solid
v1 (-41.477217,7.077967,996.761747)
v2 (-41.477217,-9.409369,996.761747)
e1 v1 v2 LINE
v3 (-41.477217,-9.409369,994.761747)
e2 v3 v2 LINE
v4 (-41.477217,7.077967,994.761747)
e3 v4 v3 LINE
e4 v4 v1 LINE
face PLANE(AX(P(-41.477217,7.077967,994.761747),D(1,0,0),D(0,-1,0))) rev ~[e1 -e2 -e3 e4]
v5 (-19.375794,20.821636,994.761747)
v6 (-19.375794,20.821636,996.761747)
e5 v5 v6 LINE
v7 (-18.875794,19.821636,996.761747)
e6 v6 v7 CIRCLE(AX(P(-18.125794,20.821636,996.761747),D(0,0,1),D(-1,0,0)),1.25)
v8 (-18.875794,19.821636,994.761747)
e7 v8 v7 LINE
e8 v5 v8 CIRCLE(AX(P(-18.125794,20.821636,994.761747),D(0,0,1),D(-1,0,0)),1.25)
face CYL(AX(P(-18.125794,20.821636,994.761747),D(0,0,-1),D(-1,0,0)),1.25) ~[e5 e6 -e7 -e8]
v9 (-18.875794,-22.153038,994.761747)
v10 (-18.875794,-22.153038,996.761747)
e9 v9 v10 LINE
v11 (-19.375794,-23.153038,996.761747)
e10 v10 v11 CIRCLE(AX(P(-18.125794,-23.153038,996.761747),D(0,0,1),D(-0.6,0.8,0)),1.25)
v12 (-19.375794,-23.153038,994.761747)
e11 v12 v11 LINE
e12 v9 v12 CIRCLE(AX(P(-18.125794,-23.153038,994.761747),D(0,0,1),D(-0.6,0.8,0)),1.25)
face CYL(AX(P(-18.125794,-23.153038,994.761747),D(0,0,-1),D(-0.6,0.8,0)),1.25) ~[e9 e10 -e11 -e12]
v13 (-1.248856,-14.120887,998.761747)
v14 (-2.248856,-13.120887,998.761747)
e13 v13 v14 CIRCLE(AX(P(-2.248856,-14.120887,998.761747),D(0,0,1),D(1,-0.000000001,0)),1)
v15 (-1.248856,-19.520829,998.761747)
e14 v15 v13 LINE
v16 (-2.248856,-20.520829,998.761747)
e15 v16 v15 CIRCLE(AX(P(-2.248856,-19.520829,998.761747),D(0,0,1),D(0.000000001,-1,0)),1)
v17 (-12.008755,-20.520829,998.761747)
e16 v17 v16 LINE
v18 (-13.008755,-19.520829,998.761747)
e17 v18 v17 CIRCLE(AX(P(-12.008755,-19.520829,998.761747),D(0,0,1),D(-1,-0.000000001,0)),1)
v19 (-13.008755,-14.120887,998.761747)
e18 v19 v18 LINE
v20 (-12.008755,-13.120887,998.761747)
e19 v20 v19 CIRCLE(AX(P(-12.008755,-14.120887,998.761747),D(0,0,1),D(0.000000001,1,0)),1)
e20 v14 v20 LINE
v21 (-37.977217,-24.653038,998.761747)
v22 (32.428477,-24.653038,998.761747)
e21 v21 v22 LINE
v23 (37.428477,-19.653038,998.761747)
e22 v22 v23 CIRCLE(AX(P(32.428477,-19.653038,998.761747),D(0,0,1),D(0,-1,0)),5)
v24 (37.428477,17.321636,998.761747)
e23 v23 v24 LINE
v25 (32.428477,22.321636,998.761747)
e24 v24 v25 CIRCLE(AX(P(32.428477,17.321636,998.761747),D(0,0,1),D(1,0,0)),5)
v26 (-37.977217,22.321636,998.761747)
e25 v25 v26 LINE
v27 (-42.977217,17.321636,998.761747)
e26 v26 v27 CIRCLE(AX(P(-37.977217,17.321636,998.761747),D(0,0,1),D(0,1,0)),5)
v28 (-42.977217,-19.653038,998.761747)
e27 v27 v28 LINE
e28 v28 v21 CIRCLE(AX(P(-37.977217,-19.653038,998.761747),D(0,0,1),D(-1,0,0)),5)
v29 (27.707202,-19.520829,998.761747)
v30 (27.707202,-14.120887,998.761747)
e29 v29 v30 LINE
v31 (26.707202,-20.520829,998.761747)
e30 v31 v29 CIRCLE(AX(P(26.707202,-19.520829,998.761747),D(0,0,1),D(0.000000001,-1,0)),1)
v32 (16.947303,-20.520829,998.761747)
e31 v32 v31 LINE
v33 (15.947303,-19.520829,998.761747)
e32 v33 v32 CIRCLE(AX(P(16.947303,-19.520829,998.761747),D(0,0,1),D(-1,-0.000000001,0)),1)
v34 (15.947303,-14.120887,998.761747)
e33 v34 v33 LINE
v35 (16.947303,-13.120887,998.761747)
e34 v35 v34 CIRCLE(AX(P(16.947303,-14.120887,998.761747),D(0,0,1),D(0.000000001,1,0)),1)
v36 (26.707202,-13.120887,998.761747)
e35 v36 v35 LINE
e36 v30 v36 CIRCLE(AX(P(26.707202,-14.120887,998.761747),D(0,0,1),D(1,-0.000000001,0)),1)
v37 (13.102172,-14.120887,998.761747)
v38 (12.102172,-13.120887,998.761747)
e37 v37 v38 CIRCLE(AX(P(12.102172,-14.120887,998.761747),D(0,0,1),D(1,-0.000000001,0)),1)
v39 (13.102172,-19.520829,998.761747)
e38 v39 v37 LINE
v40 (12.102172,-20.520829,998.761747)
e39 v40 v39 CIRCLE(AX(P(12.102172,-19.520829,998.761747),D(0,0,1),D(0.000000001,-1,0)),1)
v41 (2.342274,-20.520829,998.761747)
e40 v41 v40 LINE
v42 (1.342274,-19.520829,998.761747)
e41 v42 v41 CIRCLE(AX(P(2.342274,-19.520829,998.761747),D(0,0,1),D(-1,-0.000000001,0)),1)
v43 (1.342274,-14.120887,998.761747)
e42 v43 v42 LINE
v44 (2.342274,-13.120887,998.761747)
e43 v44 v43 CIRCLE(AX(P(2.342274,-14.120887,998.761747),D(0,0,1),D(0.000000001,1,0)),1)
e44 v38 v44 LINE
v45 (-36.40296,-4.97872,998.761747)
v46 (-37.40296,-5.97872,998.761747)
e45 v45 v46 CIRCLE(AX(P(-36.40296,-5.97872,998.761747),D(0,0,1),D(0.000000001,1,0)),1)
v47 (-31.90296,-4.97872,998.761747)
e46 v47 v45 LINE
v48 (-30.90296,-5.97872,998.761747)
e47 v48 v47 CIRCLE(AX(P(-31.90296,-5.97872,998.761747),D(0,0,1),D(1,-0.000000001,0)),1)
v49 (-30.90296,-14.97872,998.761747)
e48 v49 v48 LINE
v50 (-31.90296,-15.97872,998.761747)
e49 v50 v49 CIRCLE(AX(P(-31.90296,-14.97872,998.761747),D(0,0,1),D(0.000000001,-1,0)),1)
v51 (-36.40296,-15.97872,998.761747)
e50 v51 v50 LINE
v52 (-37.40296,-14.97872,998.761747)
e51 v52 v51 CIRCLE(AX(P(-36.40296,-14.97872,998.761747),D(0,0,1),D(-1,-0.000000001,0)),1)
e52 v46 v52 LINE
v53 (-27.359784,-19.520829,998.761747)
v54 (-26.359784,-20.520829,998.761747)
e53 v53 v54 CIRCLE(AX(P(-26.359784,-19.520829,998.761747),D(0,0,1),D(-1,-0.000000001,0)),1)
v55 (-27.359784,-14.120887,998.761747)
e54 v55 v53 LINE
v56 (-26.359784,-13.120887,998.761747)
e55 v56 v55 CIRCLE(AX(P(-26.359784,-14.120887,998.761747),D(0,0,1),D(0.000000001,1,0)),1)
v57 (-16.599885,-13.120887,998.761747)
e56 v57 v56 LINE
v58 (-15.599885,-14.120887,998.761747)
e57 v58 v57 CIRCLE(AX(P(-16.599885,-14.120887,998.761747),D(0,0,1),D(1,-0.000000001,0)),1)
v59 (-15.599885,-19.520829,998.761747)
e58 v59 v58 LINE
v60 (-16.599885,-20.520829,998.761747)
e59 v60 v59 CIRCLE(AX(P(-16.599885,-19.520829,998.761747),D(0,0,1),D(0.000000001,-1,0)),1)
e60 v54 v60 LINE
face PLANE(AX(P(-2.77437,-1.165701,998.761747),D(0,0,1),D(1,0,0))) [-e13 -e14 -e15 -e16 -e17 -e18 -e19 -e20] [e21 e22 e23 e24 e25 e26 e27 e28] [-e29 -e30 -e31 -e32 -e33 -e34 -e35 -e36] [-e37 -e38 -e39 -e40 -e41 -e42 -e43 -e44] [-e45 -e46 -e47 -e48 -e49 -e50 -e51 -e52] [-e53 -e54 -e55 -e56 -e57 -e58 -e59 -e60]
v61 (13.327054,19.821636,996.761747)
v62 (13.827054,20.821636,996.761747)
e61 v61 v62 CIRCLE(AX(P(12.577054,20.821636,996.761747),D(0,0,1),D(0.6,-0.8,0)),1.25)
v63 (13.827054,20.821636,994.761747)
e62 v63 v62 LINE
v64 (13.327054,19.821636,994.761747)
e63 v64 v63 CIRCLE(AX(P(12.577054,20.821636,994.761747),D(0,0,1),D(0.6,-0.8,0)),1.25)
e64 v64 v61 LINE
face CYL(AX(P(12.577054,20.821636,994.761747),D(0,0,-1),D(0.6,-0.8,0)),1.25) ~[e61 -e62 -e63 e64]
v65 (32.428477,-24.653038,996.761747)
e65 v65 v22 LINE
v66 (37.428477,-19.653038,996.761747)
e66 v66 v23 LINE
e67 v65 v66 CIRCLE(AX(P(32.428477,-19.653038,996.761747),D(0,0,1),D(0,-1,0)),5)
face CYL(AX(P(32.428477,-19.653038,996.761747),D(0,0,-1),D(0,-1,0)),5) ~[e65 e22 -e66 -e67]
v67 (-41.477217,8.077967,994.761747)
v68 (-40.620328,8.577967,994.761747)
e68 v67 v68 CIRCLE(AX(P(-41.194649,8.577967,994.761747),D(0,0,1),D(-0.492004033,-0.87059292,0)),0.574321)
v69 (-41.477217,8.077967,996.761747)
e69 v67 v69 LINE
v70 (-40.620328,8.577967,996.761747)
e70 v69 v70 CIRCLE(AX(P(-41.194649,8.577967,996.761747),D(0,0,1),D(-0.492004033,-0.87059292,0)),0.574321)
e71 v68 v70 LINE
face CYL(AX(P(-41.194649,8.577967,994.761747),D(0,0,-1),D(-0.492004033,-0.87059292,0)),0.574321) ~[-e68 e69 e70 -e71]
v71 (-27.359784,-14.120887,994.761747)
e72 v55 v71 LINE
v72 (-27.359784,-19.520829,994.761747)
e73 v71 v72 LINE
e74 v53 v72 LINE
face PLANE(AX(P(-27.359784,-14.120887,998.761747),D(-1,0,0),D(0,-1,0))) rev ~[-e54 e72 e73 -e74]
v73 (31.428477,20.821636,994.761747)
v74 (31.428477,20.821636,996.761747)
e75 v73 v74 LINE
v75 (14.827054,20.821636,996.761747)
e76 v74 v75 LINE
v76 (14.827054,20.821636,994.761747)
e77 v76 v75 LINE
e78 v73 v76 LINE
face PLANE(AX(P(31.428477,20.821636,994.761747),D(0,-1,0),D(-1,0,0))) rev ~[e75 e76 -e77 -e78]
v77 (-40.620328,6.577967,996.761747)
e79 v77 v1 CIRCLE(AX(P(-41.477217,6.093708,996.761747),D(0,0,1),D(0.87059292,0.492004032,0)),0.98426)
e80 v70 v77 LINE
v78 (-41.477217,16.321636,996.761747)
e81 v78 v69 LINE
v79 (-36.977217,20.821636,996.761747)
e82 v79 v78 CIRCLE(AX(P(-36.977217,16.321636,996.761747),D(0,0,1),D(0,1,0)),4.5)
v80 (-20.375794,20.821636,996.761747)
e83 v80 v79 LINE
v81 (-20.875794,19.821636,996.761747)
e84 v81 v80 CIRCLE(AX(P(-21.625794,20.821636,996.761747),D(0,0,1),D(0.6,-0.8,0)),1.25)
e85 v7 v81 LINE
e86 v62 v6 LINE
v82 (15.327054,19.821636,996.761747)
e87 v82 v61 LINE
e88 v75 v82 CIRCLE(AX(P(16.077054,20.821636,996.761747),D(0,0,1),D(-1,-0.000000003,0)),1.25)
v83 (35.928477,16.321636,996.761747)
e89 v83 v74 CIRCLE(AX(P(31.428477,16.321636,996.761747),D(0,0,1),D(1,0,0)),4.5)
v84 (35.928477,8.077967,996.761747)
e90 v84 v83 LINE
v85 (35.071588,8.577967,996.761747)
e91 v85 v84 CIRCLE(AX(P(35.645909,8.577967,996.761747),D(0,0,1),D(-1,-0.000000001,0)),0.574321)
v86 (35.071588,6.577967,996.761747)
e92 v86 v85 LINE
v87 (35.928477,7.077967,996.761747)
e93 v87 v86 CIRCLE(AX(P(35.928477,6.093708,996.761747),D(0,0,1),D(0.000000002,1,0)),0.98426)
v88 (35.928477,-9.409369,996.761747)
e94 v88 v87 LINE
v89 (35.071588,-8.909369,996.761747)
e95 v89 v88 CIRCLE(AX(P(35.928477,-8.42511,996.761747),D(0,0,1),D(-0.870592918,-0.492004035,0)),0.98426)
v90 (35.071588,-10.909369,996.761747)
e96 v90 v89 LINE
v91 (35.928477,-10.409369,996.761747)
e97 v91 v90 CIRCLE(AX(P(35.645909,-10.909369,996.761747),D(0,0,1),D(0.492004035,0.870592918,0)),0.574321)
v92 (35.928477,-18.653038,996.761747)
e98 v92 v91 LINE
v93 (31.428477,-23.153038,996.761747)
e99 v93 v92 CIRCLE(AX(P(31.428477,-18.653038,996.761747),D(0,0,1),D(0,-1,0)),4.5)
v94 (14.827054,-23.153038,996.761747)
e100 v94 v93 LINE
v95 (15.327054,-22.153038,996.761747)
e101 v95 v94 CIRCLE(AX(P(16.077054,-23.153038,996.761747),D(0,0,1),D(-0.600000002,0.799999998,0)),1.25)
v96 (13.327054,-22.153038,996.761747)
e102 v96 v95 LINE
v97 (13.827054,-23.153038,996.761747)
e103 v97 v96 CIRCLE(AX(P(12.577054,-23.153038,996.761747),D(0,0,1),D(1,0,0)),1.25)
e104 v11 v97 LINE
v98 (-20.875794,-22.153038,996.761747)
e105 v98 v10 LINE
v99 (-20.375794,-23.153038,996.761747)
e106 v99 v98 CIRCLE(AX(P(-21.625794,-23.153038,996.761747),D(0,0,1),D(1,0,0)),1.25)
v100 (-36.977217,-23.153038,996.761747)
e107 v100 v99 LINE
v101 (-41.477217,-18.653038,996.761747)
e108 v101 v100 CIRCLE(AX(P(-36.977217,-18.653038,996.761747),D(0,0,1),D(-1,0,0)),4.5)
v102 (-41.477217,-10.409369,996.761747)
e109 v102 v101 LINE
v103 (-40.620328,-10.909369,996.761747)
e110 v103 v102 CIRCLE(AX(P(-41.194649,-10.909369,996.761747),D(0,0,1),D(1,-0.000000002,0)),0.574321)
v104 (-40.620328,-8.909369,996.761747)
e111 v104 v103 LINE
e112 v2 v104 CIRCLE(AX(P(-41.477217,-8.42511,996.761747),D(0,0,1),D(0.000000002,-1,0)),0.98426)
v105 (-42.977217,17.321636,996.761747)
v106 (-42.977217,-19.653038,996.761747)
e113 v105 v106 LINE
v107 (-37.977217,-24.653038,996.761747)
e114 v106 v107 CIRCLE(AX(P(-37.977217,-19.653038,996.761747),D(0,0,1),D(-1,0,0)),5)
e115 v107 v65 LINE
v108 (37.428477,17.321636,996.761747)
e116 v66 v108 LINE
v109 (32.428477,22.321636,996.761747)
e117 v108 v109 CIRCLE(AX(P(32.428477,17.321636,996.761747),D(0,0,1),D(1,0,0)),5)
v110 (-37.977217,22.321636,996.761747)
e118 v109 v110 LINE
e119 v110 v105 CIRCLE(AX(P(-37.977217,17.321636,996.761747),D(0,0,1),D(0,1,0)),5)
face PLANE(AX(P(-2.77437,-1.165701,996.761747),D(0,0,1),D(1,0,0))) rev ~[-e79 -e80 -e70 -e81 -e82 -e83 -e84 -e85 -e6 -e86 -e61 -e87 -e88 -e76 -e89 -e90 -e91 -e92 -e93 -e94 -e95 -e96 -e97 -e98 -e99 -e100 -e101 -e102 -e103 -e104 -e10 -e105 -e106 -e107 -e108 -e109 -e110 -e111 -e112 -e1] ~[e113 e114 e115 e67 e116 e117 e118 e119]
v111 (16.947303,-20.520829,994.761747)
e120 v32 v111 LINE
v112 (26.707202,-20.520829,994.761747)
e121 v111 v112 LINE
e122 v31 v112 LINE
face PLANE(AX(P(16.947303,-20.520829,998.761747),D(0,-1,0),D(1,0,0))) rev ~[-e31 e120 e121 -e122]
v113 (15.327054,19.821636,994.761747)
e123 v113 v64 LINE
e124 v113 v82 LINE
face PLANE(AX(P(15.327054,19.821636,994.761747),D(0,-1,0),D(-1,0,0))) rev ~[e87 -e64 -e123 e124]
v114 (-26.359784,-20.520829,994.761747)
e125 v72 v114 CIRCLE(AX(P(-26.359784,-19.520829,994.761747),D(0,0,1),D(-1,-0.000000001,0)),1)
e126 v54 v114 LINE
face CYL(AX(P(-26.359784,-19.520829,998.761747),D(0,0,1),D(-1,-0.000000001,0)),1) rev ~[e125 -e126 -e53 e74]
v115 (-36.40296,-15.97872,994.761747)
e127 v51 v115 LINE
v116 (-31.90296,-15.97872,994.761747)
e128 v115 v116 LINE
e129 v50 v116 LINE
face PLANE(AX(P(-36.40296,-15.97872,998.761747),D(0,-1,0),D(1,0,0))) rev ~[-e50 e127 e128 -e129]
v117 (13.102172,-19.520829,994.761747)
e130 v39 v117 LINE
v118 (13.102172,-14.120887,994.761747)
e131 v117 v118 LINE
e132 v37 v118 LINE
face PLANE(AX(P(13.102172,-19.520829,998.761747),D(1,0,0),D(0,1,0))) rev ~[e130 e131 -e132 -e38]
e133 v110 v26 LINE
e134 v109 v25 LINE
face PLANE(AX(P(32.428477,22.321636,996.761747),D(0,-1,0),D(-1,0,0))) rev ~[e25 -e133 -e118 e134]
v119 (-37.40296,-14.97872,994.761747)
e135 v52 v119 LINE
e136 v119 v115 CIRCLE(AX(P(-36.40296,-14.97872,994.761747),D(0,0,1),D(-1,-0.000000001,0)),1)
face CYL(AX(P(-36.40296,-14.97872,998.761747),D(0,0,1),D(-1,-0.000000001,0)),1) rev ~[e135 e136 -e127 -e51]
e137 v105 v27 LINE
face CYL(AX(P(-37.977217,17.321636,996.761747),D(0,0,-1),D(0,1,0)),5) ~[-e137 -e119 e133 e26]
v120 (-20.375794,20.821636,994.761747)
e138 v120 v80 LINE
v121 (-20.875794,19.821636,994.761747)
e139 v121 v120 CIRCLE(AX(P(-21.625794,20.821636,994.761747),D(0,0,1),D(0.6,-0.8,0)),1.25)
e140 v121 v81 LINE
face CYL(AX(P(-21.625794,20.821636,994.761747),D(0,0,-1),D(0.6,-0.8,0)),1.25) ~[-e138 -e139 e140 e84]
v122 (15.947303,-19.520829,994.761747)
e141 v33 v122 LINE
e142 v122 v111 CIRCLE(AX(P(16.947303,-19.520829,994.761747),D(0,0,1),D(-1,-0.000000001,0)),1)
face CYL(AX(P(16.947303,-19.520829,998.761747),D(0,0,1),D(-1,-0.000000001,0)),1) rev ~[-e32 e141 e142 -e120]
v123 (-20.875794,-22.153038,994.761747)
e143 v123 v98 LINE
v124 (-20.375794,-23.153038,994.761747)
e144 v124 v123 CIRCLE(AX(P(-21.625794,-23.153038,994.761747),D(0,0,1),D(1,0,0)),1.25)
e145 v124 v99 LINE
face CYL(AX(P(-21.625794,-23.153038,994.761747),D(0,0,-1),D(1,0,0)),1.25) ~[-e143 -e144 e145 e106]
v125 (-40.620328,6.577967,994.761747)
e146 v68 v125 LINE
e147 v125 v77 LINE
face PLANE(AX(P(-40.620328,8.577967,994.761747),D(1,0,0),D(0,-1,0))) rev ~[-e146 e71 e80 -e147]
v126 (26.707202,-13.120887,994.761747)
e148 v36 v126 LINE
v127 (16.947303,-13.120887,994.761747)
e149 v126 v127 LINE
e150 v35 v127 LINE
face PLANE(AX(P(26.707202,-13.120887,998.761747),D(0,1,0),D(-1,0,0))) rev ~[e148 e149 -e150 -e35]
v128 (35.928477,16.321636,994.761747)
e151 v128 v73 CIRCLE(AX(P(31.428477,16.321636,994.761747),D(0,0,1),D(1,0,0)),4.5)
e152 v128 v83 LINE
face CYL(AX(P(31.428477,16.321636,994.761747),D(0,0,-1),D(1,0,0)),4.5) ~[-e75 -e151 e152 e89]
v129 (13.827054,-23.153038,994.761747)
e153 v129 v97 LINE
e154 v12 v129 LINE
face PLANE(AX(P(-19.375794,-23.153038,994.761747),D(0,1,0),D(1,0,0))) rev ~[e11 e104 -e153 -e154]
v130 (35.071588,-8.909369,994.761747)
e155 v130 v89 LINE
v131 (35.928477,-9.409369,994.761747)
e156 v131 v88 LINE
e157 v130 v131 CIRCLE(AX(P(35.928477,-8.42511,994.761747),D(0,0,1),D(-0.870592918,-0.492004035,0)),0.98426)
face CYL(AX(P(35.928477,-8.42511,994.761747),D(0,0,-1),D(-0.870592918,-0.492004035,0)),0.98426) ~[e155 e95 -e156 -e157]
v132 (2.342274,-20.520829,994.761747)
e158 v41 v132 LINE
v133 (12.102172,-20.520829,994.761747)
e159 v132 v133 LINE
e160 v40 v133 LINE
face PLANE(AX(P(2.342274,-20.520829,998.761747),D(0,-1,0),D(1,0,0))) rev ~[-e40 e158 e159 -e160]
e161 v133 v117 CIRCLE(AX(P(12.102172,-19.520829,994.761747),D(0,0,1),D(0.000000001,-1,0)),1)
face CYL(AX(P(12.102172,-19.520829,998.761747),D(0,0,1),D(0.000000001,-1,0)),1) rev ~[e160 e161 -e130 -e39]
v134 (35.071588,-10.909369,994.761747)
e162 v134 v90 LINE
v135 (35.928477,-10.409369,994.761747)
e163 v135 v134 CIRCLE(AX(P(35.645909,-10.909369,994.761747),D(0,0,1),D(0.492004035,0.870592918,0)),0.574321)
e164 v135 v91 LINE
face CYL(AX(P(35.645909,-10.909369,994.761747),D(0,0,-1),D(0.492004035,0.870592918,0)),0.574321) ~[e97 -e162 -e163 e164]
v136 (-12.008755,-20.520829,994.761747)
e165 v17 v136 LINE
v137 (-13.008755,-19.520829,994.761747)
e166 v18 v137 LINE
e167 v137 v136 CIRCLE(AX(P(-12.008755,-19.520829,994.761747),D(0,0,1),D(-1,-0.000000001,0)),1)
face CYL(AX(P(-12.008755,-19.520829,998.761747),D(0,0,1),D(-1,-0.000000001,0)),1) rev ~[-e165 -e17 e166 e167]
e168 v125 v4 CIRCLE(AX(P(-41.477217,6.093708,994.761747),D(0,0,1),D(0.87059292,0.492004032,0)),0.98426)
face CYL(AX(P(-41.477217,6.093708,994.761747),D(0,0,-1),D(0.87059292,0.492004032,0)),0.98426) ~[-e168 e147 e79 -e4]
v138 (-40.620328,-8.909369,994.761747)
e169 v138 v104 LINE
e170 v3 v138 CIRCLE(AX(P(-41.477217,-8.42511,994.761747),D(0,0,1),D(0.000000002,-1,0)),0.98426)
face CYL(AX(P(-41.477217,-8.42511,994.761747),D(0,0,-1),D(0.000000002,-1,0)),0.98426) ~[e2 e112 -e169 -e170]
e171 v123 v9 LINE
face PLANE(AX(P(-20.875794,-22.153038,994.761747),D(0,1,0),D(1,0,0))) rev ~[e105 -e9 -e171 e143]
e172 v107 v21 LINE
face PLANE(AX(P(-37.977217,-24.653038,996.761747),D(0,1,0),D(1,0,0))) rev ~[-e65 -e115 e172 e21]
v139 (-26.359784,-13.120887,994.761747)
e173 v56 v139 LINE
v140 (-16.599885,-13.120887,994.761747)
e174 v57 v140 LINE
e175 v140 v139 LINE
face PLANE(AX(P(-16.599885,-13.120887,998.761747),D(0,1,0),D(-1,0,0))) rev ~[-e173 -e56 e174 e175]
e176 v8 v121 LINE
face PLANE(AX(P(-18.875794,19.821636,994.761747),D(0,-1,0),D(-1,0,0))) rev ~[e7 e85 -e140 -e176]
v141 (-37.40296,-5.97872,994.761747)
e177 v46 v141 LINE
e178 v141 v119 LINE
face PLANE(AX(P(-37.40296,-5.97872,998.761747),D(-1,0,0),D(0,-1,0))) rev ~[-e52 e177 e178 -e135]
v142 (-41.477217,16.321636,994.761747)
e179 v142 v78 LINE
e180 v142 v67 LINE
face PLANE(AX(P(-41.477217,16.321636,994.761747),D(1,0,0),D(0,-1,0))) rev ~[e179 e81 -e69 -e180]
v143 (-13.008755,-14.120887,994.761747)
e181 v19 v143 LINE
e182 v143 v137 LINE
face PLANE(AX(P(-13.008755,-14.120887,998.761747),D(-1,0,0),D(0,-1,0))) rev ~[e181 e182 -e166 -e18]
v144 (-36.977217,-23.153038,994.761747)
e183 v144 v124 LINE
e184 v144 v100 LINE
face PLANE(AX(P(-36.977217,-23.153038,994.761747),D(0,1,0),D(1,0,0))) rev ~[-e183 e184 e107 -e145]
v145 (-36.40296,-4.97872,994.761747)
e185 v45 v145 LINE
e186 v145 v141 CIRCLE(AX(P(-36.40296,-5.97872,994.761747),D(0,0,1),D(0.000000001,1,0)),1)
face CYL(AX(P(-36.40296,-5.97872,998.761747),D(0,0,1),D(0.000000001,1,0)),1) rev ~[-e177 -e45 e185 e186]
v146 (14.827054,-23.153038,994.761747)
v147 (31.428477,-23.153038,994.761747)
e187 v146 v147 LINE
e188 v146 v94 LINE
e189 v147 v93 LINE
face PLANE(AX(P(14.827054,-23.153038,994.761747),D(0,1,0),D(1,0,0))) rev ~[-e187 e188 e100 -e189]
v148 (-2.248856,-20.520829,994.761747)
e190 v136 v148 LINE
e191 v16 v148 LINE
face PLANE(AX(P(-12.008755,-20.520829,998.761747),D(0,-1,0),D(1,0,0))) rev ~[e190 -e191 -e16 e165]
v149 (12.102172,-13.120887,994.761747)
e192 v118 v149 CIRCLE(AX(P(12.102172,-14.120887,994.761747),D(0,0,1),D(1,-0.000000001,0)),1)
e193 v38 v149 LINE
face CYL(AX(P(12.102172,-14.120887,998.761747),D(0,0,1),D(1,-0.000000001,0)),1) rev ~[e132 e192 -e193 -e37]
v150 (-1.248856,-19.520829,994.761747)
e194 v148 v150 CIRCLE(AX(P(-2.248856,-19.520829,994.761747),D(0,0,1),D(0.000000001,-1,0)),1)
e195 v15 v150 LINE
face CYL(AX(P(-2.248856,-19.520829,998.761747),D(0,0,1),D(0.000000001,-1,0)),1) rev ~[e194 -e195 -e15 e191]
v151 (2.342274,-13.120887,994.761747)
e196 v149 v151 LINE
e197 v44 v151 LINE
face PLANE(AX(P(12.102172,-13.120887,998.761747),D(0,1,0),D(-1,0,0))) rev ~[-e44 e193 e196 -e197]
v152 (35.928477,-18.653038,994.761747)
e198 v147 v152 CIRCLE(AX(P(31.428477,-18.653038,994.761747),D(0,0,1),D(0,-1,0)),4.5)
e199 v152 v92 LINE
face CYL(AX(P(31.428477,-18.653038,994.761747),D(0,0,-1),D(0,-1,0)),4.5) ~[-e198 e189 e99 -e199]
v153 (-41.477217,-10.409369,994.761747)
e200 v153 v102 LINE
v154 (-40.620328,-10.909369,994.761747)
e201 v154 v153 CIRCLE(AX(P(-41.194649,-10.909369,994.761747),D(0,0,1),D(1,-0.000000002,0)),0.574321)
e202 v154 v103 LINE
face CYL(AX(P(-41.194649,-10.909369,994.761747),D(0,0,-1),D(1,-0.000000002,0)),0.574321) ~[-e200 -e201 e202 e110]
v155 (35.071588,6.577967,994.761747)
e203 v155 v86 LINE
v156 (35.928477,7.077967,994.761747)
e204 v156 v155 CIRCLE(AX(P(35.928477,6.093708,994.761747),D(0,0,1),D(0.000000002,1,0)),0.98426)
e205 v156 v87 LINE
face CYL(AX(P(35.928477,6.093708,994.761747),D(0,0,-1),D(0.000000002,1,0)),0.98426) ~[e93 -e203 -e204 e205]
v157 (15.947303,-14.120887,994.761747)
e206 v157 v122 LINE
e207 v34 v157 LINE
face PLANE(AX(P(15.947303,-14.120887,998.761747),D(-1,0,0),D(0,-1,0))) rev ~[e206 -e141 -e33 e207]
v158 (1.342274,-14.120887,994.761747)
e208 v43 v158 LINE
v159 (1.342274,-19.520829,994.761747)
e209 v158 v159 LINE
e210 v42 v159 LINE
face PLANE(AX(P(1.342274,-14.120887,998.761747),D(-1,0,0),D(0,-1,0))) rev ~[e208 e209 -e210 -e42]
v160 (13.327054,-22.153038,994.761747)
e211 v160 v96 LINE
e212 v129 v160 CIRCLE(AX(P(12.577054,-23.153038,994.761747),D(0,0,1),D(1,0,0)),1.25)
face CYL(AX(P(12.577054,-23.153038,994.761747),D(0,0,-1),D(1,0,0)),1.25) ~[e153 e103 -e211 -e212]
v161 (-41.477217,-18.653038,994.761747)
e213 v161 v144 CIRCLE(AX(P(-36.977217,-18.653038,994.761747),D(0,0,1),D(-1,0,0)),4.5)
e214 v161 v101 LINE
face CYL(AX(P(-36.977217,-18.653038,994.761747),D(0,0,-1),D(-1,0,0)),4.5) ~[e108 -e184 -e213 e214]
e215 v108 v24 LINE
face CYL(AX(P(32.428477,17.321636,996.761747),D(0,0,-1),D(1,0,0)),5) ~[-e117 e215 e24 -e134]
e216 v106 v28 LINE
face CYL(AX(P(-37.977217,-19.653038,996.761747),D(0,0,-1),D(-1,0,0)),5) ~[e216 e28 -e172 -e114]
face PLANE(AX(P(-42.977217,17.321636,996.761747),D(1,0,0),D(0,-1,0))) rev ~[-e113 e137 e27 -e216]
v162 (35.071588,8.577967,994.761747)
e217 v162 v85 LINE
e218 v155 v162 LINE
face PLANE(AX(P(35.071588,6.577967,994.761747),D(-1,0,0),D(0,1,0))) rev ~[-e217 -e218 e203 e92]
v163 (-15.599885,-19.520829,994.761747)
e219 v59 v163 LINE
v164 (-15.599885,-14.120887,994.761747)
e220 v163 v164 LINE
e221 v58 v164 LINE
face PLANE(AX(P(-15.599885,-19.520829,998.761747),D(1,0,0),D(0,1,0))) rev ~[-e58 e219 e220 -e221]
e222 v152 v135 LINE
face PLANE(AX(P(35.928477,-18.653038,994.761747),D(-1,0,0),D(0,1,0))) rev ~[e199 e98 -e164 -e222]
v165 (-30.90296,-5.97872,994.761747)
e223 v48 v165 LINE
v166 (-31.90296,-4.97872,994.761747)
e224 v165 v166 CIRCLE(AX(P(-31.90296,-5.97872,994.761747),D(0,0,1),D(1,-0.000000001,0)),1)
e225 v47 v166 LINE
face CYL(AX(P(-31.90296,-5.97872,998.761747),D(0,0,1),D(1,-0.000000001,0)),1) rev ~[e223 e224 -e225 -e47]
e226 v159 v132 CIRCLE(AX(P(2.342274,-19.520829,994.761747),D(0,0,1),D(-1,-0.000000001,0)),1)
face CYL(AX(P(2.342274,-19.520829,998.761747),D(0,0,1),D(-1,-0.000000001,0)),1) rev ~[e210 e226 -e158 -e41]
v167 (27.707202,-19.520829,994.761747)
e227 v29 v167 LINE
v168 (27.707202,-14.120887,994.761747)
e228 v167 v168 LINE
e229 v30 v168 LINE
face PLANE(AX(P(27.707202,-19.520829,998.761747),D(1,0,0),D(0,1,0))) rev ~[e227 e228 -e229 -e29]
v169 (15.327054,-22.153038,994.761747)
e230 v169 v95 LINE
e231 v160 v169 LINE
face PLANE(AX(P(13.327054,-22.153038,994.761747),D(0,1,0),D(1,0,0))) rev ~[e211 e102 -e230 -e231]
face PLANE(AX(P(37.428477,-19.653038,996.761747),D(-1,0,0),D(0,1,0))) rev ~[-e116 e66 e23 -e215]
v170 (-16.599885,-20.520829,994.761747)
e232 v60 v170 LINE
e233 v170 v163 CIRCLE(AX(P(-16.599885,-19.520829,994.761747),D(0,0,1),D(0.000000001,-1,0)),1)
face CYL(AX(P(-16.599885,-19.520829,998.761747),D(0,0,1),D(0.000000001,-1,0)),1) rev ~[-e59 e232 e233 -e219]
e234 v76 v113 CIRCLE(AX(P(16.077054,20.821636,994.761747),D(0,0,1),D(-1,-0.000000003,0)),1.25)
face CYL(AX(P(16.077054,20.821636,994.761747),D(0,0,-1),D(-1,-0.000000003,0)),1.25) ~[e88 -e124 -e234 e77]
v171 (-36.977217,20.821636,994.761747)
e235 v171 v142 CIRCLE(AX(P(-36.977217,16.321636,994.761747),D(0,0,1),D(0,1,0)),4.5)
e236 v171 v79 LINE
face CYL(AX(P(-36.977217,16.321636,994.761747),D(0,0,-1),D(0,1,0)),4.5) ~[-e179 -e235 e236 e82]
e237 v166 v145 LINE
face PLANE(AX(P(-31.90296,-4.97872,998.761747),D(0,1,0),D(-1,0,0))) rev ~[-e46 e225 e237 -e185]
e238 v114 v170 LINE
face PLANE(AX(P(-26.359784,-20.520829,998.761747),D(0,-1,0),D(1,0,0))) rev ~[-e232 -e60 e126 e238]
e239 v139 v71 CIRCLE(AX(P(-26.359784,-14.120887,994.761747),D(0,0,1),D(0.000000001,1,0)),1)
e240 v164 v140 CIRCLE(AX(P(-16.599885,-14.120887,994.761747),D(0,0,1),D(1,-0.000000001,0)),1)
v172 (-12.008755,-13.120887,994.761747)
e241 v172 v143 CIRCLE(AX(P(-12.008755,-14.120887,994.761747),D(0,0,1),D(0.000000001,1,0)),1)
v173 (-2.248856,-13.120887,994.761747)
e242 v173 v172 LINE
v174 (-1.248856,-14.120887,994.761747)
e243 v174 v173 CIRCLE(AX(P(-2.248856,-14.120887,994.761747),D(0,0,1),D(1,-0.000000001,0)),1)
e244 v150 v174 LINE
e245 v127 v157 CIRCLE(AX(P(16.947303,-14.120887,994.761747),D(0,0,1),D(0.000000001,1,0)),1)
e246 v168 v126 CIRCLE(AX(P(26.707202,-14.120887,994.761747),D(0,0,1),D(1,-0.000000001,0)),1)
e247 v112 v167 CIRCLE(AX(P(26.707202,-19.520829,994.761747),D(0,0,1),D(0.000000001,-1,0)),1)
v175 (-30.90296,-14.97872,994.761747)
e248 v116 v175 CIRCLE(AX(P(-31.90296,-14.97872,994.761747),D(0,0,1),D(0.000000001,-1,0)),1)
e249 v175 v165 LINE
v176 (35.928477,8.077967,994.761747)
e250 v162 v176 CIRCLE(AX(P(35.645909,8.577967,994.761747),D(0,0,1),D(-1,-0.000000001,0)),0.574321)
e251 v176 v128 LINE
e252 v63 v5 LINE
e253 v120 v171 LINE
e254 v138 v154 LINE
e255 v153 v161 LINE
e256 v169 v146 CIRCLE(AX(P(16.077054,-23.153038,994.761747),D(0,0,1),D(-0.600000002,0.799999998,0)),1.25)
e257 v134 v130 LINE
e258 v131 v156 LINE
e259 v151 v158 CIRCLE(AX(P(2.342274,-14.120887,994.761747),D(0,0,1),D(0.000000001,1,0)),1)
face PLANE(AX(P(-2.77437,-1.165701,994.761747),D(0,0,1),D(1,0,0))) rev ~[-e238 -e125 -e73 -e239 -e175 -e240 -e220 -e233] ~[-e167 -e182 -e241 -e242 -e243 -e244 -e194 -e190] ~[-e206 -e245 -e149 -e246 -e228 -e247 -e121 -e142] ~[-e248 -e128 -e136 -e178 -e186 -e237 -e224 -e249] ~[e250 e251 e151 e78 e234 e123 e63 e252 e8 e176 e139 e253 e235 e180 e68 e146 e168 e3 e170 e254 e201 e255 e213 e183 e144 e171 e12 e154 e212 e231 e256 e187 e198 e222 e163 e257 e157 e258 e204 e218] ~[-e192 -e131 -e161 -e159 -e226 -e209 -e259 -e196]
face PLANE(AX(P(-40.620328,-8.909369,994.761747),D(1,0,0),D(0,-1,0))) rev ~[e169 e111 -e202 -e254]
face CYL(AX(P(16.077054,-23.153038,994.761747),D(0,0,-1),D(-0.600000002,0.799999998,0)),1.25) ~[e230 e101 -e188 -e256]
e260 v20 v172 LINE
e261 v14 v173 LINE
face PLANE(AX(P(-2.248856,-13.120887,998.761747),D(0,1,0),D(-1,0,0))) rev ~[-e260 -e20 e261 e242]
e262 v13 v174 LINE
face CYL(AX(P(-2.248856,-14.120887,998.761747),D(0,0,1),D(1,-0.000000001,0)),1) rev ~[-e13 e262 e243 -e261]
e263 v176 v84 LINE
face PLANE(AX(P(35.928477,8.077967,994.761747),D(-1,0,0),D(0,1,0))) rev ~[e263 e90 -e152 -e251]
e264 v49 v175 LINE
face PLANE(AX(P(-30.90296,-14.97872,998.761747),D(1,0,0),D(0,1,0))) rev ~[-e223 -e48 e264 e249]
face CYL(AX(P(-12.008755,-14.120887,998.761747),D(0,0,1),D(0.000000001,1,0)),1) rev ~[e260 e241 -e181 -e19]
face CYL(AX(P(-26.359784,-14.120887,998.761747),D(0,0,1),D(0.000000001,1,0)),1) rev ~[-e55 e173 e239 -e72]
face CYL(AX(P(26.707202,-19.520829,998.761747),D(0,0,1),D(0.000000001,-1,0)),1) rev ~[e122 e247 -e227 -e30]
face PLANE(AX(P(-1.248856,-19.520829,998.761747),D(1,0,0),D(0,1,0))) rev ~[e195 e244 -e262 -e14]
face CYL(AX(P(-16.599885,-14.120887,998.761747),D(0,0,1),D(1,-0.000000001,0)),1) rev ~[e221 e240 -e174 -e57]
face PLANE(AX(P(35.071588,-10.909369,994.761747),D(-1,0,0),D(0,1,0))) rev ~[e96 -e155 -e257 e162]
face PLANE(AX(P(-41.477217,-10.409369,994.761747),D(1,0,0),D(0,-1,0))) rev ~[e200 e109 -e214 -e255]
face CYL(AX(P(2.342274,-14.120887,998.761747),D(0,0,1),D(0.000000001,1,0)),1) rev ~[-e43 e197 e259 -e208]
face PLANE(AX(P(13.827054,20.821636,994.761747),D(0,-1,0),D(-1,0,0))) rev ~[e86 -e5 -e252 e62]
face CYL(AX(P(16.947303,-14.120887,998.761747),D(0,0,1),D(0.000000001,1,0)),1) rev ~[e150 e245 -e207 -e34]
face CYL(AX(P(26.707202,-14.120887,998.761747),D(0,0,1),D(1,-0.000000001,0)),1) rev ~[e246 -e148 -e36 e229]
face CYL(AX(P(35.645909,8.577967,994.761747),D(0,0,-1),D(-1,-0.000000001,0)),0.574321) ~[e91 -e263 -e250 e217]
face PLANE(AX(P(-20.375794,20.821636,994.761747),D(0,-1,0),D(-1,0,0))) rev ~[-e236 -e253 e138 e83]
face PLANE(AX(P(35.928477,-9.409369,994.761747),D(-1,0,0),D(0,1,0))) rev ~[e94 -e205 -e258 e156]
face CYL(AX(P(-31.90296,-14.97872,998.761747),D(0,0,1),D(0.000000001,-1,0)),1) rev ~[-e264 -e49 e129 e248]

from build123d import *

# Parameters (mm, degrees)
EXTRUDE_1_DEPTH     = 2
EXTRUDE_2_DEPTH     = 2
CUT_EXTRUDE_1_DEPTH = 5


with BuildPart() as part:
    # 草图1 → 凸台-拉伸1 (new body)
    with BuildSketch(Plane.XY.offset(994.761746566)):
        with BuildLine():
            Line((-36.977217365, -23.153037779), (-20.375793692, -23.153037779))
            ThreePointArc((-20.375793692, -23.153037779), (-20.507759703, -22.594020785), (-20.875793692, -22.153037779))
            Line((-20.875793692, -22.153037779), (-18.875793692, -22.153037779))
            ThreePointArc((-18.875793692, -22.153037779), (-19.243827681, -22.594020785), (-19.375793692, -23.153037779))
            Line((-19.375793692, -23.153037779), (13.827053654, -23.153037779))
            ThreePointArc((13.827053654, -23.153037779), (13.695087643, -22.594020785), (13.327053654, -22.153037779))
            Line((13.327053654, -22.153037779), (15.327053654, -22.153037779))
            ThreePointArc((15.327053654, -22.153037779), (14.959019666, -22.594020785), (14.827053654, -23.153037779))
            Line((14.827053654, -23.153037779), (31.428477328, -23.153037779))
            ThreePointArc((31.428477328, -23.153037779), (34.610457843, -21.835018294), (35.928477328, -18.653037779))
            Line((35.928477328, -18.653037779), (35.928477328, -10.409369377))
            ThreePointArc((35.928477328, -10.409369377), (35.356461327, -10.413320038), (35.071587729, -10.909369377))
            Line((35.071587729, -10.909369377), (35.071587729, -8.909369377))
            ThreePointArc((35.071587729, -8.909369377), (35.432427989, -9.275228629), (35.928477328, -9.409369377))
            Line((35.928477328, -9.409369377), (35.928477328, 7.077967428))
            ThreePointArc((35.928477328, 7.077967428), (35.432427989, 6.943826681), (35.071587729, 6.577967428))
            Line((35.071587729, 6.577967428), (35.071587729, 8.577967428))
            ThreePointArc((35.071587729, 8.577967428), (35.356461327, 8.08191809), (35.928477328, 8.077967428))
            Line((35.928477328, 8.077967428), (35.928477328, 16.32163583))
            ThreePointArc((35.928477328, 16.32163583), (34.610457843, 19.503616346), (31.428477328, 20.82163583))
            Line((31.428477328, 20.82163583), (14.827053654, 20.82163583))
            ThreePointArc((14.827053654, 20.82163583), (14.959019666, 20.262618836), (15.327053654, 19.82163583))
            Line((15.327053654, 19.82163583), (13.327053654, 19.82163583))
            ThreePointArc((13.327053654, 19.82163583), (13.695087643, 20.262618836), (13.827053654, 20.82163583))
            Line((13.827053654, 20.82163583), (-19.375793692, 20.82163583))
            ThreePointArc((-19.375793692, 20.82163583), (-19.243827681, 20.262618836), (-18.875793692, 19.82163583))
            Line((-18.875793692, 19.82163583), (-20.875793692, 19.82163583))
            ThreePointArc((-20.875793692, 19.82163583), (-20.507759703, 20.262618836), (-20.375793692, 20.82163583))
            Line((-20.375793692, 20.82163583), (-36.977217365, 20.82163583))
            ThreePointArc((-36.977217365, 20.82163583), (-40.15919788, 19.503616346), (-41.477217365, 16.32163583))
            Line((-41.477217365, 16.32163583), (-41.477217365, 8.077967428))
            ThreePointArc((-41.477217365, 8.077967428), (-40.905201365, 8.08191809), (-40.620327767, 8.577967428))
            Line((-40.620327767, 8.577967428), (-40.620327767, 6.577967428))
            ThreePointArc((-40.620327767, 6.577967428), (-40.981168027, 6.943826681), (-41.477217365, 7.077967428))
            Line((-41.477217365, 7.077967428), (-41.477217365, -9.409369377))
            ThreePointArc((-41.477217365, -9.409369377), (-40.981168027, -9.275228629), (-40.620327767, -8.909369377))
            Line((-40.620327767, -8.909369377), (-40.620327767, -10.909369377))
            ThreePointArc((-40.620327767, -10.909369377), (-40.905201365, -10.413320038), (-41.477217365, -10.409369377))
            Line((-41.477217365, -10.409369377), (-41.477217365, -18.653037779))
            ThreePointArc((-41.477217365, -18.653037779), (-40.15919788, -21.835018294), (-36.977217365, -23.153037779))
        make_face()
    extrude(amount=EXTRUDE_1_DEPTH)

    # 草图2 → 凸台-拉伸2 (add)
    with BuildSketch(Plane.XY.offset(996.761746566)):
        with BuildLine():
            Line((-42.977217365, 17.32163583), (-42.977217365, -19.653037779))
            ThreePointArc((-42.977217365, -19.653037779), (-41.512751271, -23.188571685), (-37.977217365, -24.653037779))
            Line((-37.977217365, -24.653037779), (32.428477328, -24.653037779))
            ThreePointArc((32.428477328, -24.653037779), (35.964011233, -23.188571685), (37.428477328, -19.653037779))
            Line((37.428477328, -19.653037779), (37.428477328, 17.32163583))
            ThreePointArc((37.428477328, 17.32163583), (35.964011233, 20.857169736), (32.428477328, 22.32163583))
            Line((32.428477328, 22.32163583), (-37.977217365, 22.32163583))
            ThreePointArc((-37.977217365, 22.32163583), (-41.512751271, 20.857169736), (-42.977217365, 17.32163583))
        make_face()
    extrude(amount=EXTRUDE_2_DEPTH)

    # 草图3 → 切除-拉伸1 (cut)
    with BuildSketch(Plane.XY.offset(998.761746566)):
        with BuildLine():
            Line((-24.489796203, -20.520829455), (-18.469872403, -20.520829455))
            Line((-18.469872403, -20.520829455), (-16.599885103, -20.520829455))
            ThreePointArc((-16.599885103, -20.520829455), (-15.892778322, -20.227936236), (-15.599885103, -19.520829455))
            Line((-15.599885103, -19.520829455), (-15.599885103, -14.120887455))
            ThreePointArc((-15.599885103, -14.120887455), (-15.892778322, -13.413780673), (-16.599885103, -13.120887455))
            Line((-16.599885103, -13.120887455), (-26.359783503, -13.120887455))
            ThreePointArc((-26.359783503, -13.120887455), (-27.066890284, -13.413780673), (-27.359783503, -14.120887455))
            Line((-27.359783503, -14.120887455), (-27.359783503, -19.520829455))
            ThreePointArc((-27.359783503, -19.520829455), (-27.066890284, -20.227936236), (-26.359783503, -20.520829455))
            Line((-26.359783503, -20.520829455), (-24.489796203, -20.520829455))
        make_face()
        with BuildLine():
            Line((-10.138767501, -20.520829455), (-4.118843701, -20.520829455))
            Line((-4.118843701, -20.520829455), (-2.248856401, -20.520829455))
            ThreePointArc((-2.248856401, -20.520829455), (-1.54174962, -20.227936236), (-1.248856401, -19.520829455))
            Line((-1.248856401, -19.520829455), (-1.248856401, -14.120887455))
            ThreePointArc((-1.248856401, -14.120887455), (-1.54174962, -13.413780673), (-2.248856401, -13.120887455))
            Line((-2.248856401, -13.120887455), (-12.008754801, -13.120887455))
            ThreePointArc((-12.008754801, -13.120887455), (-12.715861582, -13.413780673), (-13.008754801, -14.120887455))
            Line((-13.008754801, -14.120887455), (-13.008754801, -19.520829455))
            ThreePointArc((-13.008754801, -19.520829455), (-12.715861582, -20.227936236), (-12.008754801, -20.520829455))
            Line((-12.008754801, -20.520829455), (-10.138767501, -20.520829455))
        make_face()
        with BuildLine():
            Line((4.212261201, -20.520829455), (10.232185001, -20.520829455))
            Line((10.232185001, -20.520829455), (12.102172301, -20.520829455))
            ThreePointArc((12.102172301, -20.520829455), (12.809279082, -20.227936236), (13.102172301, -19.520829455))
            Line((13.102172301, -19.520829455), (13.102172301, -14.120887455))
            ThreePointArc((13.102172301, -14.120887455), (12.809279082, -13.413780673), (12.102172301, -13.120887455))
            Line((12.102172301, -13.120887455), (2.342273901, -13.120887455))
            ThreePointArc((2.342273901, -13.120887455), (1.63516712, -13.413780673), (1.342273901, -14.120887455))
            Line((1.342273901, -14.120887455), (1.342273901, -19.520829455))
            ThreePointArc((1.342273901, -19.520829455), (1.63516712, -20.227936236), (2.342273901, -20.520829455))
            Line((2.342273901, -20.520829455), (4.212261201, -20.520829455))
        make_face()
        with BuildLine():
            Line((18.817290411, -20.520829455), (24.837214211, -20.520829455))
            Line((24.837214211, -20.520829455), (26.707201511, -20.520829455))
            ThreePointArc((26.707201511, -20.520829455), (27.414308292, -20.227936236), (27.707201511, -19.520829455))
            Line((27.707201511, -19.520829455), (27.707201511, -14.120887455))
            ThreePointArc((27.707201511, -14.120887455), (27.414308292, -13.413780673), (26.707201511, -13.120887455))
            Line((26.707201511, -13.120887455), (16.947303111, -13.120887455))
            ThreePointArc((16.947303111, -13.120887455), (16.24019633, -13.413780673), (15.947303111, -14.120887455))
            Line((15.947303111, -14.120887455), (15.947303111, -19.520829455))
            ThreePointArc((15.947303111, -19.520829455), (16.24019633, -20.227936236), (16.947303111, -20.520829455))
            Line((16.947303111, -20.520829455), (18.817290411, -20.520829455))
        make_face()
        with BuildLine():
            Line((-37.402959537, -5.978719817), (-37.402959537, -14.978719817))
            ThreePointArc((-37.402959537, -14.978719817), (-37.110066318, -15.685826598), (-36.402959537, -15.978719817))
            Line((-36.402959537, -15.978719817), (-31.902959537, -15.978719817))
            ThreePointArc((-31.902959537, -15.978719817), (-31.195852756, -15.685826598), (-30.902959537, -14.978719817))
            Line((-30.902959537, -14.978719817), (-30.902959537, -5.978719817))
            ThreePointArc((-30.902959537, -5.978719817), (-31.195852756, -5.271613035), (-31.902959537, -4.978719817))
            Line((-31.902959537, -4.978719817), (-36.402959537, -4.978719817))
            ThreePointArc((-36.402959537, -4.978719817), (-37.110066318, -5.271613035), (-37.402959537, -5.978719817))
        make_face()
    extrude(amount=-CUT_EXTRUDE_1_DEPTH, mode=Mode.SUBTRACT)


solid = part.part
